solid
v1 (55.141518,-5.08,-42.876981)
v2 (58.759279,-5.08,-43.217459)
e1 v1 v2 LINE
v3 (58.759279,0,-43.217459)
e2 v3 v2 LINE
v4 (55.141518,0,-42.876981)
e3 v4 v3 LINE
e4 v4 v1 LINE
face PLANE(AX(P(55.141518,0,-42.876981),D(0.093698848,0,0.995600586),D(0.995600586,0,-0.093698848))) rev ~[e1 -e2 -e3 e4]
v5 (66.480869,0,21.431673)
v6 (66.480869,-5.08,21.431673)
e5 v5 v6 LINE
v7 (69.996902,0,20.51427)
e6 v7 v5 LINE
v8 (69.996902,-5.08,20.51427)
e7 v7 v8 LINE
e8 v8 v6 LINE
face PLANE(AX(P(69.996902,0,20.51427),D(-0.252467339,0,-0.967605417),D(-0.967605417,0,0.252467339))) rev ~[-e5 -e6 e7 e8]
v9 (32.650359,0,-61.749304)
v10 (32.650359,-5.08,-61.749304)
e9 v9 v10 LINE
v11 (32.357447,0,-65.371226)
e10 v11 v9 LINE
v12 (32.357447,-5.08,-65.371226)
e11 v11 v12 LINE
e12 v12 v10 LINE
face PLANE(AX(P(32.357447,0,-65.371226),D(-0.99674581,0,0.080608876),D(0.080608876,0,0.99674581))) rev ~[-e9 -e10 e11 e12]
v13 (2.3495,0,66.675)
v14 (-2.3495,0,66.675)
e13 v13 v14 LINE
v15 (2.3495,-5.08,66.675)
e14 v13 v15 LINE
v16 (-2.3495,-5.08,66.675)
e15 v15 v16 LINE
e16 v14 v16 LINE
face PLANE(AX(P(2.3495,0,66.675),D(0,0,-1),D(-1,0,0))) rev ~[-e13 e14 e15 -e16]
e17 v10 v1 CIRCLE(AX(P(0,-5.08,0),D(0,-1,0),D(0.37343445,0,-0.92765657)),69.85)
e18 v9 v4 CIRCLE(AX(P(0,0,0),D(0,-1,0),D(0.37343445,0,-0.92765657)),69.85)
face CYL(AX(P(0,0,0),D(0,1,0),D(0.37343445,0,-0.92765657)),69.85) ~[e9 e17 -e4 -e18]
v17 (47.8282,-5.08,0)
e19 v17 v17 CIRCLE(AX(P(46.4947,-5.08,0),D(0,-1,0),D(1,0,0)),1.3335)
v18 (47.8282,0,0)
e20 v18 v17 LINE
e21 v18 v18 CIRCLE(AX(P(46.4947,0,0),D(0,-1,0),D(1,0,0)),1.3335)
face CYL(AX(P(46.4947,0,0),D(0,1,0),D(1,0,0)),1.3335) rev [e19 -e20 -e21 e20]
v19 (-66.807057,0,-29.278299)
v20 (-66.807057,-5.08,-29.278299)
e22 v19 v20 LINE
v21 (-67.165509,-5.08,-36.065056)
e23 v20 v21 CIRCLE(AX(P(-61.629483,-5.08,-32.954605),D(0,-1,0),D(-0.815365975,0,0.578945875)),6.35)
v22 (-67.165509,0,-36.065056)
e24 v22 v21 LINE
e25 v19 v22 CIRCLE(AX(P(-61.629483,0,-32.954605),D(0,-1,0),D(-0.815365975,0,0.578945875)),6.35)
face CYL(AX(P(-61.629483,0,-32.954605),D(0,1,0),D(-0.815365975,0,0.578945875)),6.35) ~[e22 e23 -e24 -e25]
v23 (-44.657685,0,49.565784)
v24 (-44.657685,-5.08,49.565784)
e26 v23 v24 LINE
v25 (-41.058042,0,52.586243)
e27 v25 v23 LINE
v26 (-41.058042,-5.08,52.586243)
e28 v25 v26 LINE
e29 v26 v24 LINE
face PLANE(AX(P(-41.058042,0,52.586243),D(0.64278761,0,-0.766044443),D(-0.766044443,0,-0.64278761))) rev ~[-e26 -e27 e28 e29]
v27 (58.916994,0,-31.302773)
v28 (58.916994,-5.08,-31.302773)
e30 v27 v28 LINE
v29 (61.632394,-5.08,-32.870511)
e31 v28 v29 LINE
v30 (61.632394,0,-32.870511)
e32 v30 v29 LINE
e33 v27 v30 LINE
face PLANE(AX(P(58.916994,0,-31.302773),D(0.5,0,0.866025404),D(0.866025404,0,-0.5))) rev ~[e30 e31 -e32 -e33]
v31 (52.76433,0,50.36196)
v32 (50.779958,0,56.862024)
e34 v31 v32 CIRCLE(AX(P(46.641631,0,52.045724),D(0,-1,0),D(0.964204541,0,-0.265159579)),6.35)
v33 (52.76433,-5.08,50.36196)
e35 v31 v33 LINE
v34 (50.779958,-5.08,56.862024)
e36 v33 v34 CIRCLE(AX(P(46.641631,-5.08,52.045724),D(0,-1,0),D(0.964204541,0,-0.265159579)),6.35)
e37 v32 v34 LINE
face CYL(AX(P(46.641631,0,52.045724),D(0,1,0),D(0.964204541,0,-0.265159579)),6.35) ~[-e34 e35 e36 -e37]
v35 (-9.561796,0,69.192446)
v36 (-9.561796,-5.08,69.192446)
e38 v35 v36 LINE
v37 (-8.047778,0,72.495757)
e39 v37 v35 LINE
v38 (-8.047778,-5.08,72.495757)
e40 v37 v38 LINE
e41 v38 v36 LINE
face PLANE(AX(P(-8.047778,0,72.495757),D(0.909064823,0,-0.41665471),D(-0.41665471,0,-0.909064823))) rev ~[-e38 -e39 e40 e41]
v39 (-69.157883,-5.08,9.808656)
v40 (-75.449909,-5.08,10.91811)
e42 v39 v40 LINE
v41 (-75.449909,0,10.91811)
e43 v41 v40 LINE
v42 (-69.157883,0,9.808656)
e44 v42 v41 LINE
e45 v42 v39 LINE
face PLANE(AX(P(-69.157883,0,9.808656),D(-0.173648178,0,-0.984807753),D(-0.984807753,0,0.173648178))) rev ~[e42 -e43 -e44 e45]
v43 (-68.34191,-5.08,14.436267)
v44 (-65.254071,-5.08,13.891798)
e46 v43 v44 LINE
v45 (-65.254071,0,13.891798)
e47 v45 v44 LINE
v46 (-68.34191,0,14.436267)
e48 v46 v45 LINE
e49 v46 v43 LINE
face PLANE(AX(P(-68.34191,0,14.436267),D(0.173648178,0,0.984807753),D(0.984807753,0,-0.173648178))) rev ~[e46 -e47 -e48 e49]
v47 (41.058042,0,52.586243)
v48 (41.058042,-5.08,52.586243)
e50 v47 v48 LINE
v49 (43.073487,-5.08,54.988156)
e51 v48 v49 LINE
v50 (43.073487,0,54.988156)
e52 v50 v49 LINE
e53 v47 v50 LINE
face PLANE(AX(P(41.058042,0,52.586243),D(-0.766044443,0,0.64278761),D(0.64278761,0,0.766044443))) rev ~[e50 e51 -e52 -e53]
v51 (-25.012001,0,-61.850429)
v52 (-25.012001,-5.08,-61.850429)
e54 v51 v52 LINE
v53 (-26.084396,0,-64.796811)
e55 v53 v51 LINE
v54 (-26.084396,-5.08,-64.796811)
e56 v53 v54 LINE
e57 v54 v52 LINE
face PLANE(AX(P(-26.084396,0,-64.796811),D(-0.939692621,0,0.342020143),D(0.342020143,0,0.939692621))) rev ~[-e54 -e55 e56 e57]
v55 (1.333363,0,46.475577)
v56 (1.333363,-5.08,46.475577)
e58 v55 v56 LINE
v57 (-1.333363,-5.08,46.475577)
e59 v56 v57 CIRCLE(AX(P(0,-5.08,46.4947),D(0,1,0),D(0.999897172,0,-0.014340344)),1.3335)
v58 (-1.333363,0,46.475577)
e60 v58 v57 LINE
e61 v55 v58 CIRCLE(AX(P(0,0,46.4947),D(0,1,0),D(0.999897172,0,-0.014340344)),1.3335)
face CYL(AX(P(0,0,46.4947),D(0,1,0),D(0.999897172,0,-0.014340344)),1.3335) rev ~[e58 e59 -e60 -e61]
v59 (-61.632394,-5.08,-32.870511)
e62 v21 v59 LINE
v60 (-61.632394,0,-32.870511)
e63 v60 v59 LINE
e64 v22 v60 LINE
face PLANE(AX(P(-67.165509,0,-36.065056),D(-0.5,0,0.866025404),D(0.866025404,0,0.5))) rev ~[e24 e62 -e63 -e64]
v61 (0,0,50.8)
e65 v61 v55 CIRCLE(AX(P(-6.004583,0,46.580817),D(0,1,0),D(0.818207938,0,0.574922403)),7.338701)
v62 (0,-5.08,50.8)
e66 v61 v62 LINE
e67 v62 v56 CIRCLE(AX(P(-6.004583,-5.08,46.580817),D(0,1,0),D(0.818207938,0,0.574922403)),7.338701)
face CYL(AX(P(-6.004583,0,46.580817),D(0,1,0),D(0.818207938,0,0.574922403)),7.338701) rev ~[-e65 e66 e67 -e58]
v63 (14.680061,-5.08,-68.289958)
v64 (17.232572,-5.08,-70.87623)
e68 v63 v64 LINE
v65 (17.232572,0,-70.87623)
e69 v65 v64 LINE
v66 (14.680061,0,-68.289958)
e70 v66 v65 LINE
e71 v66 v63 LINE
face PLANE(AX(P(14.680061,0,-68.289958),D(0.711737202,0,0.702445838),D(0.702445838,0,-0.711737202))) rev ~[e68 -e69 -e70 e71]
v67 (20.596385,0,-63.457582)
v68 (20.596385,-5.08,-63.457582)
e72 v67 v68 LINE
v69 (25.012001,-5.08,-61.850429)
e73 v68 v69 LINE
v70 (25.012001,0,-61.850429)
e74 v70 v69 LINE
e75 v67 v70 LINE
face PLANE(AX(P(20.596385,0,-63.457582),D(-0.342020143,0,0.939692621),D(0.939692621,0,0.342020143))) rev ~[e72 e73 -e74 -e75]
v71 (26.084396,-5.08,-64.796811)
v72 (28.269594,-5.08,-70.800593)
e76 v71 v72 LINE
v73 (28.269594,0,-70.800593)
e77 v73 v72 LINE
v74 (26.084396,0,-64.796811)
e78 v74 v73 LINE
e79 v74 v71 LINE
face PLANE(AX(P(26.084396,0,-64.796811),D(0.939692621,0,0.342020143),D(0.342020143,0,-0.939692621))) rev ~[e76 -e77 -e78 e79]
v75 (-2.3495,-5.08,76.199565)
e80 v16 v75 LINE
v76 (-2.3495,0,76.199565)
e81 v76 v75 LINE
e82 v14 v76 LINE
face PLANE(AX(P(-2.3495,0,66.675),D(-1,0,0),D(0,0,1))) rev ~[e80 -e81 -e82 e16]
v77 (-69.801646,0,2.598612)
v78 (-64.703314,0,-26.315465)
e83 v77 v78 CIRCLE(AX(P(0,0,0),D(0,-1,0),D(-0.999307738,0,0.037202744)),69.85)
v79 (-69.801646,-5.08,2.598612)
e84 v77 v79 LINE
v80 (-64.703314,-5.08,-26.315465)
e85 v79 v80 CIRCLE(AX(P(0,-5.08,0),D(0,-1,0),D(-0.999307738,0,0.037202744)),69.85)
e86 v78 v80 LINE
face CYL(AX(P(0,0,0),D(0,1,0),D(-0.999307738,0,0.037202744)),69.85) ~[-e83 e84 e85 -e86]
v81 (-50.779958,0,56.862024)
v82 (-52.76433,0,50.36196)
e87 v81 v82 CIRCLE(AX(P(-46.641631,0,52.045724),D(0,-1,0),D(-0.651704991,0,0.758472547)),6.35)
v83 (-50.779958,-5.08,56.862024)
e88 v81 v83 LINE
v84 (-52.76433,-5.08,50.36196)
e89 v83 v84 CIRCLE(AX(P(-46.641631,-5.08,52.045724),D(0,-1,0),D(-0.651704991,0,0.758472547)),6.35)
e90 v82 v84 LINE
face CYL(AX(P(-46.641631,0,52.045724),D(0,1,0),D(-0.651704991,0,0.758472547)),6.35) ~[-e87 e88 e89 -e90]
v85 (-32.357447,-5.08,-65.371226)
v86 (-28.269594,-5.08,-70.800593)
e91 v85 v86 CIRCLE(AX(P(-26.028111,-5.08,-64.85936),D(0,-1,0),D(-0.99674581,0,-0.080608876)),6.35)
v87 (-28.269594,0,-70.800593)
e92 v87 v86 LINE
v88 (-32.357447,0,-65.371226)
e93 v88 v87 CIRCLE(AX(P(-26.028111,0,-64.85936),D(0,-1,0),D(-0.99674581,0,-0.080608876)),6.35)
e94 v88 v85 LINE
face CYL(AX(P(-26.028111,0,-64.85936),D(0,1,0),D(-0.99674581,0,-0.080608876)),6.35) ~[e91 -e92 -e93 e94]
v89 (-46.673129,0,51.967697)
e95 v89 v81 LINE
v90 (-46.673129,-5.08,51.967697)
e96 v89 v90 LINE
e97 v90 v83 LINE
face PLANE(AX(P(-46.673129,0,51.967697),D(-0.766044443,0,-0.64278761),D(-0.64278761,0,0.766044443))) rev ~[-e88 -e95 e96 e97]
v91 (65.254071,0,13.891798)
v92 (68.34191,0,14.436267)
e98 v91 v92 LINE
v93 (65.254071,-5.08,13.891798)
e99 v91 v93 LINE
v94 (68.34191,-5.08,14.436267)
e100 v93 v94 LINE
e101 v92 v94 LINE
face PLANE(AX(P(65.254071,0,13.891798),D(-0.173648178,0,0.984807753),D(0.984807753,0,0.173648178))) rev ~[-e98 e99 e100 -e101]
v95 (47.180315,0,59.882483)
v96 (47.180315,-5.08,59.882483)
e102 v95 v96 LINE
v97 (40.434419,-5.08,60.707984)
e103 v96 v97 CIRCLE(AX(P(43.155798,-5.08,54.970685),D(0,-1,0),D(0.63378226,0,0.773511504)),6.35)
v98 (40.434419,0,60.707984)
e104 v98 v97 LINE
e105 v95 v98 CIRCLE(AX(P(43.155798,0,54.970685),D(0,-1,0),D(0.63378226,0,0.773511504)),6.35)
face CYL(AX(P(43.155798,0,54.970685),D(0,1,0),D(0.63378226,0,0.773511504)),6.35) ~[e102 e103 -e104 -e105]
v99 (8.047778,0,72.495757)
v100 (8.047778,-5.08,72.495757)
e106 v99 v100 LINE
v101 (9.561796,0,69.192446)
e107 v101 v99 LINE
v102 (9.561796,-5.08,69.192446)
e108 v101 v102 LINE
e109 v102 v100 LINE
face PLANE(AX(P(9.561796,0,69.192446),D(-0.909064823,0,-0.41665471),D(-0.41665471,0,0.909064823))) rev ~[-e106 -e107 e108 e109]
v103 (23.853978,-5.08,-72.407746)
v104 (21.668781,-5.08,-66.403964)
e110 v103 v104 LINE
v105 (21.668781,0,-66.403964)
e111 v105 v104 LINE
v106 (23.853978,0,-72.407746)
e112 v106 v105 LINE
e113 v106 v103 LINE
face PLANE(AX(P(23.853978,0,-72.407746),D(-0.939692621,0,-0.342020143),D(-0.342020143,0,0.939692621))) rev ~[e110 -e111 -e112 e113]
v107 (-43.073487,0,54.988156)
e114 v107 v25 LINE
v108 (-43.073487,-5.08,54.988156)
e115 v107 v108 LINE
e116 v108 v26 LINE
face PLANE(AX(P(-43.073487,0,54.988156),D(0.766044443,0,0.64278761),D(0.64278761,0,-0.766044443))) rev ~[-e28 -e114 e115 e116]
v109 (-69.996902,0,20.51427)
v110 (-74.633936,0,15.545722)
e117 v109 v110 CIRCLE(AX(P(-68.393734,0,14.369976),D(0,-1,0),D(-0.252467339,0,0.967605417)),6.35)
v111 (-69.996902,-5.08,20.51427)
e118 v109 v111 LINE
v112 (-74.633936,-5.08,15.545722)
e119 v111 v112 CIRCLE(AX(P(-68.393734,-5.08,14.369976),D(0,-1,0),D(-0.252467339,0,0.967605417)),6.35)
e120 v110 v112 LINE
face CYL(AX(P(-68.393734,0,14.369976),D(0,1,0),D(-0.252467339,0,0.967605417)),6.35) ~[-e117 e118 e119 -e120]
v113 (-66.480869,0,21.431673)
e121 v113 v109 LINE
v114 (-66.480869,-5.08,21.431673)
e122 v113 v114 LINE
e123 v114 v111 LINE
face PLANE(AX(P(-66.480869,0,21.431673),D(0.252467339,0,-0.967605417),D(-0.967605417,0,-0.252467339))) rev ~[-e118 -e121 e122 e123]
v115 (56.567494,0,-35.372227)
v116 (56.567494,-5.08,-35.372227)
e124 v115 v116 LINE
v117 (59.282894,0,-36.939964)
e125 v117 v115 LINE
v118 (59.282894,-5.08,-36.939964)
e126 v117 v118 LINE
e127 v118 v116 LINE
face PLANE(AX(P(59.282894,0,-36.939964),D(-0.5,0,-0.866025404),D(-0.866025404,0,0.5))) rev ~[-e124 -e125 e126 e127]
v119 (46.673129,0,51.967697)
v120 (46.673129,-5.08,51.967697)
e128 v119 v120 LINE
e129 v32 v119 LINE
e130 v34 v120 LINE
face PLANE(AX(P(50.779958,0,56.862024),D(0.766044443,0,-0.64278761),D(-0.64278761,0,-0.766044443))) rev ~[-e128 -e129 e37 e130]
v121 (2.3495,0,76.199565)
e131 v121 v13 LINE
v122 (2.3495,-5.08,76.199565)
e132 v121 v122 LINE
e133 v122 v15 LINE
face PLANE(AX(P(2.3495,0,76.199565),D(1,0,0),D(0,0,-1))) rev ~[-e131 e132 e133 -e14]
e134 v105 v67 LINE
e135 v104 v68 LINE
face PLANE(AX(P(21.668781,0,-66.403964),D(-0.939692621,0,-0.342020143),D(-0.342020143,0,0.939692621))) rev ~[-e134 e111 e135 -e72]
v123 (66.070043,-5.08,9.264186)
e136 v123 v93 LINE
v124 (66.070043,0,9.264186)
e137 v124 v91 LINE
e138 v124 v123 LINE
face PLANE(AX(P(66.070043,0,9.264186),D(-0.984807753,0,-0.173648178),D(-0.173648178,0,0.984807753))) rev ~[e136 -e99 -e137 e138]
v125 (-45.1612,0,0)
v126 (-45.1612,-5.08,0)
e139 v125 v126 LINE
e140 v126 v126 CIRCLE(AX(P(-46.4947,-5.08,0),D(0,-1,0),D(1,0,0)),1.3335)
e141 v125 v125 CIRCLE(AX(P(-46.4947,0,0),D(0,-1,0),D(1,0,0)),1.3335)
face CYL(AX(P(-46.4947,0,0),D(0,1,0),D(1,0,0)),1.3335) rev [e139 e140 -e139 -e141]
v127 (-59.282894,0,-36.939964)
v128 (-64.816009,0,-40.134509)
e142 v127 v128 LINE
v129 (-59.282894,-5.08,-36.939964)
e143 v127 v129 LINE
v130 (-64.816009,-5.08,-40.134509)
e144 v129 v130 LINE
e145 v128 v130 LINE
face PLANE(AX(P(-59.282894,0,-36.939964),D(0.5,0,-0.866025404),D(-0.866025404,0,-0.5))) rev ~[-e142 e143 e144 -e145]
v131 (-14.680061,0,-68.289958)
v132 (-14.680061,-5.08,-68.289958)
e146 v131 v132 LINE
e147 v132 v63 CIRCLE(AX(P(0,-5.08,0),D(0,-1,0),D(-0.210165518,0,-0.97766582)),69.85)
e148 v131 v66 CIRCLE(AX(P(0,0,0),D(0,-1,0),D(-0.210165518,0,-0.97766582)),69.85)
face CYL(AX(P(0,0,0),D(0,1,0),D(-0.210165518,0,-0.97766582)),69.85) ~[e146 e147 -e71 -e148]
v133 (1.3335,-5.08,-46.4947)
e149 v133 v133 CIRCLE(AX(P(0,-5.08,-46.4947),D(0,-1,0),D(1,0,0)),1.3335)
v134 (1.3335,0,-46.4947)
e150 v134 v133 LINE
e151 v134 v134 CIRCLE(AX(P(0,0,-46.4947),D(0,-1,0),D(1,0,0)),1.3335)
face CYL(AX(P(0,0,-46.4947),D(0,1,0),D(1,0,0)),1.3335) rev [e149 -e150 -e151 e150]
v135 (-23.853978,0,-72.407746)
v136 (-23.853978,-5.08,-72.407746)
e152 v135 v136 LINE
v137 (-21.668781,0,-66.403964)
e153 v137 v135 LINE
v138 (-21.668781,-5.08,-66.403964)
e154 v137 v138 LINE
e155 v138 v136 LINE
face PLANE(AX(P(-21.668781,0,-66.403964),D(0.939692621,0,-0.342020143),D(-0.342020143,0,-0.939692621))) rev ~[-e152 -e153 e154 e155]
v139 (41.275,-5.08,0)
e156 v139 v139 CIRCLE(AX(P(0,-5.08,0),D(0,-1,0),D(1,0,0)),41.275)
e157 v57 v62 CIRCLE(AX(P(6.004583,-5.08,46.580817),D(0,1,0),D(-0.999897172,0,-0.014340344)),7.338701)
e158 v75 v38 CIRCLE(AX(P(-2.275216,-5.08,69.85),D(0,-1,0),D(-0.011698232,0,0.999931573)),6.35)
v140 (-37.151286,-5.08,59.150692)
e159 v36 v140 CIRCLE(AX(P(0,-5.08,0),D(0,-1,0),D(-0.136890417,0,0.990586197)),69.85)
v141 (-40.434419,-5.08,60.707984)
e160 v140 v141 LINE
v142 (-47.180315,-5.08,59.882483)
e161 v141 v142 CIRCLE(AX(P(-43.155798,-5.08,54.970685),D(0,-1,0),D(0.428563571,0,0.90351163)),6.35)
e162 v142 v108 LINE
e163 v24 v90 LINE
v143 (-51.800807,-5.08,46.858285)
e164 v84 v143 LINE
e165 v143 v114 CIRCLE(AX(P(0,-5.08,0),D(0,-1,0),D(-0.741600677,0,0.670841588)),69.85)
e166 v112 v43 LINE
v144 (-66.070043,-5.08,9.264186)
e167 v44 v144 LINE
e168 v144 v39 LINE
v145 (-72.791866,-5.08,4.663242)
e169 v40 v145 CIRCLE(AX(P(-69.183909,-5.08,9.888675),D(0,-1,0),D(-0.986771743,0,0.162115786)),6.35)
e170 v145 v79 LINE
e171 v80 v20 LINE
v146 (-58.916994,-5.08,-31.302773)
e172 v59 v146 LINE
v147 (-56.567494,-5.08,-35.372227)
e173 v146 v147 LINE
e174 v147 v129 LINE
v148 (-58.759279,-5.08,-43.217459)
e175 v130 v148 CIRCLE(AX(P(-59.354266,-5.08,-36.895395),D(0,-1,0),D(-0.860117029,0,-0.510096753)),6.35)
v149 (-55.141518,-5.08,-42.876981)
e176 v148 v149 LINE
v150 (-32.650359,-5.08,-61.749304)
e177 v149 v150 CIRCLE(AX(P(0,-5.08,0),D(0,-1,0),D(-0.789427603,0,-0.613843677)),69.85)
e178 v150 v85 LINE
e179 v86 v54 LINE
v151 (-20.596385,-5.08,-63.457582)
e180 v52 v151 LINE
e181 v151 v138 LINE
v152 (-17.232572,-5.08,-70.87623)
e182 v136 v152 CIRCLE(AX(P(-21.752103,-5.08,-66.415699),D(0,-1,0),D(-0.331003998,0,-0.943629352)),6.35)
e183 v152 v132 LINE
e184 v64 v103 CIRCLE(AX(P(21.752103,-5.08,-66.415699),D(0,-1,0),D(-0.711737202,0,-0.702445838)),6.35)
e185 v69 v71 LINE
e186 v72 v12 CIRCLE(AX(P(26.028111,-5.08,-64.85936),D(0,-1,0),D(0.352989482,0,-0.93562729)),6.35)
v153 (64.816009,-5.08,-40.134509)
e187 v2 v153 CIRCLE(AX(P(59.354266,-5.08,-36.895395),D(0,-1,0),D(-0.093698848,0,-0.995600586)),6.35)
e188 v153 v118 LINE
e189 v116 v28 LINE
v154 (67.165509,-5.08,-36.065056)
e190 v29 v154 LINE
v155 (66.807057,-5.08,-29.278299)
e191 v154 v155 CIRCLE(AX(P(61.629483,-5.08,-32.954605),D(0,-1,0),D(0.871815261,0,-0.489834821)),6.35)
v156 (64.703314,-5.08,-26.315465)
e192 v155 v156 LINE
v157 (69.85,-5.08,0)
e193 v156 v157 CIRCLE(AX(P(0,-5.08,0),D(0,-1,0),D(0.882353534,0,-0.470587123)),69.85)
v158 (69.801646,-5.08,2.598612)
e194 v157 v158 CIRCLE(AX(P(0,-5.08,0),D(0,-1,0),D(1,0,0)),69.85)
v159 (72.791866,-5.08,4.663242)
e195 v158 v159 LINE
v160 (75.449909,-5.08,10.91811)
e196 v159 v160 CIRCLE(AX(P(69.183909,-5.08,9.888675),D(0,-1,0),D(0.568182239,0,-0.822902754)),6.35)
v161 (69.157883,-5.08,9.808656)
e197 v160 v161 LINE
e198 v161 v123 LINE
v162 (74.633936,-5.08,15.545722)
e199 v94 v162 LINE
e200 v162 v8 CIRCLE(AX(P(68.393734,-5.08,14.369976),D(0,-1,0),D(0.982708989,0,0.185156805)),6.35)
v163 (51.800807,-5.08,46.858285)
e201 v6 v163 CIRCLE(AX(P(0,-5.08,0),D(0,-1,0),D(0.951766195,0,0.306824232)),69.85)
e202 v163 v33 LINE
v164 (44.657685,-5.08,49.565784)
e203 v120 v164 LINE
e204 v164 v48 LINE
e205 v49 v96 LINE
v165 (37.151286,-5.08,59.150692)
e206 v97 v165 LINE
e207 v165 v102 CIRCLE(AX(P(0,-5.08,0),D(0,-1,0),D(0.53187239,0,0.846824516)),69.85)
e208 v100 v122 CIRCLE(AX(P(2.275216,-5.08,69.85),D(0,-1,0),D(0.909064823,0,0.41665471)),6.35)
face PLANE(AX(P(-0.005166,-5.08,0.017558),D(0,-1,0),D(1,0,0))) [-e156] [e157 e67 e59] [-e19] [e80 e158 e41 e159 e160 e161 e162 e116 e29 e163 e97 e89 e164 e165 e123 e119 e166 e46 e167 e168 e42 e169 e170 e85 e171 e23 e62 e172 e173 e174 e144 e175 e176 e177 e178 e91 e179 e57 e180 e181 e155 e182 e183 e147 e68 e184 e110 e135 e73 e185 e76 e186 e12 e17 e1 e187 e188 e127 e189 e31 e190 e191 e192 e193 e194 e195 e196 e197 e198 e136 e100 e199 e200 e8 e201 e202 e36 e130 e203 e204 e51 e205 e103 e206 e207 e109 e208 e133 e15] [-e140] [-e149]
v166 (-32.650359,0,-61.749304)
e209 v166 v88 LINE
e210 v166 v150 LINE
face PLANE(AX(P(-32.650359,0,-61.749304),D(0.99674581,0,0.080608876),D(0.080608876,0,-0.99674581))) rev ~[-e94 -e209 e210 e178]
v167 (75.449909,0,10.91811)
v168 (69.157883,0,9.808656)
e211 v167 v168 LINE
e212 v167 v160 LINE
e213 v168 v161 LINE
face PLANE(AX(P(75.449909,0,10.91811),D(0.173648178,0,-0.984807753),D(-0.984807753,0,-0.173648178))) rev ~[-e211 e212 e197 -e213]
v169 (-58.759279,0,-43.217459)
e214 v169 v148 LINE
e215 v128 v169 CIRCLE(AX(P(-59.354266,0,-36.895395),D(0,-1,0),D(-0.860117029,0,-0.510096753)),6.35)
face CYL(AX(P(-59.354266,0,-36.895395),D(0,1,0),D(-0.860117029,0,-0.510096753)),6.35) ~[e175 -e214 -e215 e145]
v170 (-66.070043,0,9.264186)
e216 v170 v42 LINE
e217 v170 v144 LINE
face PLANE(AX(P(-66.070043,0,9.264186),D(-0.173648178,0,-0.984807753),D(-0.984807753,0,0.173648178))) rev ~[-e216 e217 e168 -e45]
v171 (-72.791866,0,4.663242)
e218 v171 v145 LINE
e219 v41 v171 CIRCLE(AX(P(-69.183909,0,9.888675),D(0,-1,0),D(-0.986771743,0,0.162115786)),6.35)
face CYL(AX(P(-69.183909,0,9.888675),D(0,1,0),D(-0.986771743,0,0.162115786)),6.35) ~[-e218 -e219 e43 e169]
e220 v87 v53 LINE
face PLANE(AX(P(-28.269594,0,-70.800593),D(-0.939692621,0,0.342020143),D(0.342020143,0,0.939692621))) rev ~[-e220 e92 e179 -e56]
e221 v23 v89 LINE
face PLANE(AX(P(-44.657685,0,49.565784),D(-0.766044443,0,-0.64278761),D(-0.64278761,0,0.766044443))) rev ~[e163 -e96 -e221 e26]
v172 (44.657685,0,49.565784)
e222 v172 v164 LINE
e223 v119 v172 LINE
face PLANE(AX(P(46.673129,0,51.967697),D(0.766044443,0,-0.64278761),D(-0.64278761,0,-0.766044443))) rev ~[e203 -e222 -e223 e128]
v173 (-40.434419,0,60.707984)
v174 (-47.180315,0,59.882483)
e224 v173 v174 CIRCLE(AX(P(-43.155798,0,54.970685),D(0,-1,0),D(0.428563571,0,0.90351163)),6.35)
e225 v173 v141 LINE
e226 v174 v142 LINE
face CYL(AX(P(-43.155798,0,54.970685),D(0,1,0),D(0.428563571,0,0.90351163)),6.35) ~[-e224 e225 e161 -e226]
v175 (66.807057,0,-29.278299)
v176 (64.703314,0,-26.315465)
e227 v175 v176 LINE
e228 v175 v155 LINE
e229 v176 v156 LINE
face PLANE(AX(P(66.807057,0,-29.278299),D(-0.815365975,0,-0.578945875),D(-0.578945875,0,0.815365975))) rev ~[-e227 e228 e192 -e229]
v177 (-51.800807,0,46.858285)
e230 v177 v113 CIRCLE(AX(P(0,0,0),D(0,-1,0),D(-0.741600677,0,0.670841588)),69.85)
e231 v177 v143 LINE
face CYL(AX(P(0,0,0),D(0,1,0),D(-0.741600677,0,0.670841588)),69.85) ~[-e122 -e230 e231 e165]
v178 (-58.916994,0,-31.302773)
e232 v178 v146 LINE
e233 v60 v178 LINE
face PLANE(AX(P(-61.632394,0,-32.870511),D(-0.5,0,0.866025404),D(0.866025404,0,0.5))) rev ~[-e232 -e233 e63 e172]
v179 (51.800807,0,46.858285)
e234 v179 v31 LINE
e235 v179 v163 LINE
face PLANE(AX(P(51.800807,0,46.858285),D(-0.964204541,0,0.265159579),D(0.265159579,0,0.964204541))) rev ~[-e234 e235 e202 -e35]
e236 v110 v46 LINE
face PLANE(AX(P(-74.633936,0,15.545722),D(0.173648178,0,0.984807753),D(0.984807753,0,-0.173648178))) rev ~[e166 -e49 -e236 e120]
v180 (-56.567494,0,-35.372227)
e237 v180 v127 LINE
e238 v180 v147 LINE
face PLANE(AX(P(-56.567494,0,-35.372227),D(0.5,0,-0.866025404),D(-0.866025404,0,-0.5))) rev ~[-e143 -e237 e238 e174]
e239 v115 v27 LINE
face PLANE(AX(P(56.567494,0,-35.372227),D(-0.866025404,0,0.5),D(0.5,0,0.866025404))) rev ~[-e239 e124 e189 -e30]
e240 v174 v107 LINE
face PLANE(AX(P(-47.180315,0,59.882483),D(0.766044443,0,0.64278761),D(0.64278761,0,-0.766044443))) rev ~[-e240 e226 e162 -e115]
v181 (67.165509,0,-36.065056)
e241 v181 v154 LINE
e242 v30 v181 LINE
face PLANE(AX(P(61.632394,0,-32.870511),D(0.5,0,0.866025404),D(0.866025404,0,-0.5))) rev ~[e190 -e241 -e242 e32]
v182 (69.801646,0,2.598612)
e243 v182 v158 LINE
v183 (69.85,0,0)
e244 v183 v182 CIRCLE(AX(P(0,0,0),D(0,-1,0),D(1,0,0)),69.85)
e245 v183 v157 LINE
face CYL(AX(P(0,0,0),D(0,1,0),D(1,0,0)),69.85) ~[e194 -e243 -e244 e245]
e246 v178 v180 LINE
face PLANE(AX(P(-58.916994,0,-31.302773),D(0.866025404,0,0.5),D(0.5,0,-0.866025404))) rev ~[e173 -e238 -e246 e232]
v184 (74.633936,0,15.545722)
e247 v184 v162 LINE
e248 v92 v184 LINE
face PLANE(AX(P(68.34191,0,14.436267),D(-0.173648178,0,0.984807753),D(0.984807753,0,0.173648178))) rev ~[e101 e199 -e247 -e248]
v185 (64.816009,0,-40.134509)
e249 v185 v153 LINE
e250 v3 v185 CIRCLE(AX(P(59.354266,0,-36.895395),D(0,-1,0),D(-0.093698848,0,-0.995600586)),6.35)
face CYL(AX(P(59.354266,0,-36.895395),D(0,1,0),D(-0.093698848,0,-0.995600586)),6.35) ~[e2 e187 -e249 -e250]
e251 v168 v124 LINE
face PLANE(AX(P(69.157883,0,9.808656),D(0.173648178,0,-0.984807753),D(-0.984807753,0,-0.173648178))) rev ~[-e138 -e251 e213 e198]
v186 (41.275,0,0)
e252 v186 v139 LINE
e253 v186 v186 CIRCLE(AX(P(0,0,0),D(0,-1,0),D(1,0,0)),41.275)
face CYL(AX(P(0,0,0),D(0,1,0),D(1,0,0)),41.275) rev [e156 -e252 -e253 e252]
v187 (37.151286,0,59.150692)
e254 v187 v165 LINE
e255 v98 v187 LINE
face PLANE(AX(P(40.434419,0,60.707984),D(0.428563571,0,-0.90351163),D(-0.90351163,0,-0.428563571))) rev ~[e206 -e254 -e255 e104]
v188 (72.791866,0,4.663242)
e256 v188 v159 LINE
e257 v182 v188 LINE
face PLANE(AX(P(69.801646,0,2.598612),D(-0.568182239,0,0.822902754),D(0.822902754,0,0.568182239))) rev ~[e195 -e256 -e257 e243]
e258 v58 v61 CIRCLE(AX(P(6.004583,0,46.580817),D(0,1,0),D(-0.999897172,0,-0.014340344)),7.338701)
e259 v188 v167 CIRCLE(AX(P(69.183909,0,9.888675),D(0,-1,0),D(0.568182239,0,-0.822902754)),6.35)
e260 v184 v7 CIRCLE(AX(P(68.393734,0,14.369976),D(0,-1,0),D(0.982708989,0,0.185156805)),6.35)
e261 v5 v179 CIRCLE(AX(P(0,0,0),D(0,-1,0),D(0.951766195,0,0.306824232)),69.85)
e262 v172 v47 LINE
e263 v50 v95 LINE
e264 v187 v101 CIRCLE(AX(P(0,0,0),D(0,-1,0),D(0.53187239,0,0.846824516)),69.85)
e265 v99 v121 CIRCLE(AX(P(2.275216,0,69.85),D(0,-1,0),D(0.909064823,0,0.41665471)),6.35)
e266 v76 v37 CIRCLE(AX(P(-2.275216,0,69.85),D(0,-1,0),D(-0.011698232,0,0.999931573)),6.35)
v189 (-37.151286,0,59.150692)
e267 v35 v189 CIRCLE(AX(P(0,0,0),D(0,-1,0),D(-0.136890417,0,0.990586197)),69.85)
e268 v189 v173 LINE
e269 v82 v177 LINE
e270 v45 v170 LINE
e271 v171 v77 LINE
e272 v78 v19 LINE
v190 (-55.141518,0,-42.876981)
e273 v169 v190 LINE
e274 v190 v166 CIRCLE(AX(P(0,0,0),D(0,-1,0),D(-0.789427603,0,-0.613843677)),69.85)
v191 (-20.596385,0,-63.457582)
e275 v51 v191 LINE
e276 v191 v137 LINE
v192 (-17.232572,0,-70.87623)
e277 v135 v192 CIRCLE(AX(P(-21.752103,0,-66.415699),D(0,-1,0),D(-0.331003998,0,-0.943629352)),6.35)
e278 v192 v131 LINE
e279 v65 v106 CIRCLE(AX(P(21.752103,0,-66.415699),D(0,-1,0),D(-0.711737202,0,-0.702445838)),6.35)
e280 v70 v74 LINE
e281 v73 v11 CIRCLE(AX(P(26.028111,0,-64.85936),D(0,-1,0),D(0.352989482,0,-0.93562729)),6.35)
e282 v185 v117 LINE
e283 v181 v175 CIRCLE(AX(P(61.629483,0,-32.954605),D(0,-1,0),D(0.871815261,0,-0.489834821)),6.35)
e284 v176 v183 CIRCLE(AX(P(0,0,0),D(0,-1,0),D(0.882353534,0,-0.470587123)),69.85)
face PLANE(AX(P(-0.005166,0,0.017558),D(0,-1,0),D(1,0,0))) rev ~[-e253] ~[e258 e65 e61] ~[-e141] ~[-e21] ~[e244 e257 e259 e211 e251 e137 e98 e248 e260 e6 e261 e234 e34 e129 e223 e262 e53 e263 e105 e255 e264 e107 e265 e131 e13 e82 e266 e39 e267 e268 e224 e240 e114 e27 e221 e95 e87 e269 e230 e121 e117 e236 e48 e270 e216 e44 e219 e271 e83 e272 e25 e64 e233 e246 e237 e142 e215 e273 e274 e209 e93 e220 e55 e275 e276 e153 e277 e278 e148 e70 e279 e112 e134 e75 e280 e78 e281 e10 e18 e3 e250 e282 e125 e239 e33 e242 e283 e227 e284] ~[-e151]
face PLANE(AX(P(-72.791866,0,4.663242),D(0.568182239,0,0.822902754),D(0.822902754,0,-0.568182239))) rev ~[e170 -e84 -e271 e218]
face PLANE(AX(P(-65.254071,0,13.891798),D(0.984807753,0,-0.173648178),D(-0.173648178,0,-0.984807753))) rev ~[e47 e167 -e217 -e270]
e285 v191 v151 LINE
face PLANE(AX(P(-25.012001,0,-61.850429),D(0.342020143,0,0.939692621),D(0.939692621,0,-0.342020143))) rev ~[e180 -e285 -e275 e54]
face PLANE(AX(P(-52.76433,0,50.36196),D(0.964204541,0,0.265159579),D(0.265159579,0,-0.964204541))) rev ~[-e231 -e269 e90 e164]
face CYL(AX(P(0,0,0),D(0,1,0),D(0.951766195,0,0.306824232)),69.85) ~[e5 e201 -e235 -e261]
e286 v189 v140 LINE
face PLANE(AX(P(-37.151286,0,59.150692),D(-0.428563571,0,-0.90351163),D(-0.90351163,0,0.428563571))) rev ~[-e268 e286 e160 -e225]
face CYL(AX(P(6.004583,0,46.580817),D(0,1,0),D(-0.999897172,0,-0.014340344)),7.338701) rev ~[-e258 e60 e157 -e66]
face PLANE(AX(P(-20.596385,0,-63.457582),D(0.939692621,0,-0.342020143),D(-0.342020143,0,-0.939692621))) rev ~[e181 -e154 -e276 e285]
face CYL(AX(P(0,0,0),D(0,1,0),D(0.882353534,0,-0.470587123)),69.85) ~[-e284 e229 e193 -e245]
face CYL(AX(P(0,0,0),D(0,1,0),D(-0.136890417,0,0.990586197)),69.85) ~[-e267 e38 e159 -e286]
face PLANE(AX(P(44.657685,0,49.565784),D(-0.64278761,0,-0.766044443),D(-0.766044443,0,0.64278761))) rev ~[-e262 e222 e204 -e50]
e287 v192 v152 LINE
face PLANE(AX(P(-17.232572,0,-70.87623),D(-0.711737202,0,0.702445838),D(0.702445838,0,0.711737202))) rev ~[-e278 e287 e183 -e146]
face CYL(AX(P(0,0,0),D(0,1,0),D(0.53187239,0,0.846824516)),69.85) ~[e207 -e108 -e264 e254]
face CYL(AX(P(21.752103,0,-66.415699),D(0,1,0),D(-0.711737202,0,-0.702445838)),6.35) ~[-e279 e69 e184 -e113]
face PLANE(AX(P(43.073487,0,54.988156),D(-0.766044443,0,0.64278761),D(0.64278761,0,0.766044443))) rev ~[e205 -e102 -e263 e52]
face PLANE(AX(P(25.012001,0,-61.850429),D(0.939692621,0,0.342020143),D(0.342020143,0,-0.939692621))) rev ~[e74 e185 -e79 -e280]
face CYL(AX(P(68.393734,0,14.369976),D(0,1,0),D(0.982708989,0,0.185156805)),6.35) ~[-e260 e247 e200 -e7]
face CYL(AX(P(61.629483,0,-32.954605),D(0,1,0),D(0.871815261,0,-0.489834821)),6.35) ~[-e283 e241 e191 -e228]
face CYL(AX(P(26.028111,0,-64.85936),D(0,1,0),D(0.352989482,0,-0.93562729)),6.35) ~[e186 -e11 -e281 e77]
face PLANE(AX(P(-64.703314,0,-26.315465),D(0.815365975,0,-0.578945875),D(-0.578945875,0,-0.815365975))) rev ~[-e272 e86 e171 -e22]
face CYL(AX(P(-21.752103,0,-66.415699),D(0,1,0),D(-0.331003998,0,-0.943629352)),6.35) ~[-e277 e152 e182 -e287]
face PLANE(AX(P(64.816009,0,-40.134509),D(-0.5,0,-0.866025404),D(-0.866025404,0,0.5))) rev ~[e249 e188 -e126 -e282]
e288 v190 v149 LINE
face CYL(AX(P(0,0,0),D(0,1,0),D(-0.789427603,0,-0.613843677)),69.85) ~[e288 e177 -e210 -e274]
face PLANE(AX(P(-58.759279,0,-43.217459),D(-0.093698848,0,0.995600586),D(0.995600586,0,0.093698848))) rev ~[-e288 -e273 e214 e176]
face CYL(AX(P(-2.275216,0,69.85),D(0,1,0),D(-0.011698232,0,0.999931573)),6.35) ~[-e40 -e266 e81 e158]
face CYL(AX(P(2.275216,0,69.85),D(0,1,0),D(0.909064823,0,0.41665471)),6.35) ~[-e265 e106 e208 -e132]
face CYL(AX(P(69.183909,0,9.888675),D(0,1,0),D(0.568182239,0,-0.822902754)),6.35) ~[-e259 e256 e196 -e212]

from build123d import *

# Parameters (mm, degrees)
F0_R     = 1.3335
F0_R_2   = 41.275
F1_DEPTH = 5.08


with BuildPart() as f1:
    # F0 (on Front) → F1 (new body)
    with BuildSketch(Plane.XZ):
        with BuildLine():
            ThreePointArc((64.703313688, -26.3154649928), (68.5512544054, -13.4070138154), (69.85, 0))
            ThreePointArc((69.85, 0), (69.8379103341, 1.2995307458), (69.8016455216, 2.5986116451))
            ThreePointArc((69.8016455216, 2.5986116451), (69.5732263207, 6.2119786965), (69.1578829213, 9.8086558631))
            Line((69.1578829213, 9.8086558631), (66.0700433255, 9.2641864302))
            Line((66.0700433255, 9.2641864302), (65.2540705387, 13.8917980616))
            Line((65.2540705387, 13.8917980616), (68.3419101345, 14.4362674945))
            ThreePointArc((68.3419101345, 14.4362674945), (67.502069222, 17.9580942962), (66.4808687426, 21.4316726185))
            ThreePointArc((66.4808687426, 21.4316726185), (60.4918744543, 34.925), (51.8008073045, 46.8582848875))
            ThreePointArc((51.8008073045, 46.8582848875), (49.3032004751, 49.4794596061), (46.6731294533, 51.9676965724))
            Line((46.6731294533, 51.9676965724), (44.657685295, 49.565783756))
            Line((44.657685295, 49.565783756), (41.0580424567, 52.5862427339))
            Line((41.0580424567, 52.5862427339), (43.0734866151, 54.9881555503))
            ThreePointArc((43.0734866151, 54.9881555503), (40.1663445193, 57.1461920687), (37.15128646, 59.1506924251))
            ThreePointArc((37.15128646, 59.1506924251), (23.8901070113, 65.6375295619), (9.5617956478, 69.1924458593))
            ThreePointArc((9.5617956478, 69.1924458593), (5.9636591831, 69.5949514631), (2.3495, 69.8104744988))
            Line((2.3495, 69.8104744988), (2.3495, 66.675))
            Line((2.3495, 66.675), (-2.3495, 66.675))
            Line((-2.3495, 66.675), (-2.3495, 69.8104744988))
            ThreePointArc((-2.3495, 69.8104744988), (-5.9636591831, 69.5949514631), (-9.5617956478, 69.1924458593))
            ThreePointArc((-9.5617956478, 69.1924458593), (-23.8901070113, 65.6375295619), (-37.15128646, 59.1506924251))
            ThreePointArc((-37.15128646, 59.1506924251), (-40.1663445193, 57.1461920687), (-43.0734866151, 54.9881555503))
            Line((-43.0734866151, 54.9881555503), (-41.0580424567, 52.5862427339))
            Line((-41.0580424567, 52.5862427339), (-44.657685295, 49.565783756))
            Line((-44.657685295, 49.565783756), (-46.6731294533, 51.9676965724))
            ThreePointArc((-46.6731294533, 51.9676965724), (-49.3032004751, 49.4794596061), (-51.8008073045, 46.8582848875))
            ThreePointArc((-51.8008073045, 46.8582848875), (-60.4918744543, 34.925), (-66.4808687426, 21.4316726185))
            ThreePointArc((-66.4808687426, 21.4316726185), (-67.502069222, 17.9580942962), (-68.3419101345, 14.4362674945))
            Line((-68.3419101345, 14.4362674945), (-65.2540705387, 13.8917980616))
            Line((-65.2540705387, 13.8917980616), (-66.0700433255, 9.2641864302))
            Line((-66.0700433255, 9.2641864302), (-69.1578829213, 9.8086558631))
            ThreePointArc((-69.1578829213, 9.8086558631), (-69.5732263207, 6.2119786965), (-69.8016455216, 2.5986116451))
            ThreePointArc((-69.8016455216, 2.5986116451), (-68.7888215479, -12.12932521), (-64.703313688, -26.3154649928))
            ThreePointArc((-64.703313688, -26.3154649928), (-63.2528255337, -29.6327953794), (-61.6323943662, -32.8705105632))
            Line((-61.6323943662, -32.8705105632), (-58.9169937973, -31.3027733138))
            Line((-58.9169937973, -31.3027733138), (-56.5674937973, -35.3722266862))
            Line((-56.5674937973, -35.3722266862), (-59.2828943662, -36.9399639356))
            ThreePointArc((-59.2828943662, -36.9399639356), (-57.2891663506, -39.9621560836), (-55.1415180402, -42.8769808665))
            ThreePointArc((-55.1415180402, -42.8769808665), (-44.8987145366, -53.5082043519), (-32.6503590616, -61.7493040702))
            ThreePointArc((-32.6503590616, -61.7493040702), (-29.4068818014, -63.3581707653), (-26.0843963063, -64.7968114134))
            Line((-26.0843963063, -64.7968114134), (-25.0120008688, -61.8504291642))
            Line((-25.0120008688, -61.8504291642), (-20.5963852437, -63.4575818176))
            Line((-20.5963852437, -63.4575818176), (-21.6687806812, -66.4039640668))
            ThreePointArc((-21.6687806812, -66.4039640668), (-18.1988687469, -67.4375539024), (-14.6800614381, -68.289957506))
            ThreePointArc((-14.6800614381, -68.289957506), (0, -69.85), (14.6800614381, -68.289957506))
            ThreePointArc((14.6800614381, -68.289957506), (18.1988687469, -67.4375539024), (21.6687806812, -66.4039640668))
            Line((21.6687806812, -66.4039640668), (20.5963852437, -63.4575818176))
            Line((20.5963852437, -63.4575818176), (25.0120008688, -61.8504291642))
            Line((25.0120008688, -61.8504291642), (26.0843963063, -64.7968114134))
            ThreePointArc((26.0843963063, -64.7968114134), (29.4068818014, -63.3581707653), (32.6503590616, -61.7493040702))
            ThreePointArc((32.6503590616, -61.7493040702), (44.8987145366, -53.5082043519), (55.1415180402, -42.8769808665))
            ThreePointArc((55.1415180402, -42.8769808665), (57.2891663506, -39.9621560836), (59.2828943662, -36.9399639356))
            Line((59.2828943662, -36.9399639356), (56.5674937973, -35.3722266862))
            Line((56.5674937973, -35.3722266862), (58.9169937973, -31.3027733138))
            Line((58.9169937973, -31.3027733138), (61.6323943662, -32.8705105632))
            ThreePointArc((61.6323943662, -32.8705105632), (63.2528255337, -29.6327953794), (64.703313688, -26.3154649928))
        make_face()
        with Locations((0, -46.4947)):
            Circle(F0_R, mode=Mode.SUBTRACT)
        with Locations((-46.4947, 0)):
            Circle(F0_R, mode=Mode.SUBTRACT)
        Circle(F0_R_2, mode=Mode.SUBTRACT)
        with Locations((46.4947, 0)):
            Circle(F0_R, mode=Mode.SUBTRACT)
        with BuildLine():
            ThreePointArc((1.3333628788, 46.4755771511), (0, 45.1612), (-1.3333628788, 46.4755771511))
            ThreePointArc((-1.3333628788, 46.4755771511), (-1.0083284803, 48.7431296807), (0, 50.8))
            ThreePointArc((0, 50.8), (1.0083284803, 48.7431296807), (1.3333628788, 46.4755771511))
        make_face(mode=Mode.SUBTRACT)
        with BuildLine():
            ThreePointArc((-43.0734866151, 54.9881555503), (-40.1663445193, 57.1461920687), (-37.15128646, 59.1506924251))
            Line((-37.15128646, 59.1506924251), (-40.4344191153, 60.7079840043))
            ThreePointArc((-40.4344191153, 60.7079840043), (-43.9270989611, 61.2736681367), (-47.1803151418, 59.8824832012))
            Line((-47.1803151418, 59.8824832012), (-43.0734866151, 54.9881555503))
        make_face()
        with BuildLine():
            ThreePointArc((-51.8008073045, 46.8582848875), (-49.3032004751, 49.4794596061), (-46.6731294533, 51.9676965724))
            Line((-46.6731294533, 51.9676965724), (-50.7799579801, 56.8620242233))
            ThreePointArc((-50.7799579801, 56.8620242233), (-52.7149227517, 53.8998084352), (-52.7643301228, 50.3619602255))
            Line((-52.7643301228, 50.3619602255), (-51.8008073045, 46.8582848875))
        make_face()
        with BuildLine():
            ThreePointArc((-9.5617956478, 69.1924458593), (-5.9636591831, 69.5949514631), (-2.3495, 69.8104744988))
            Line((-2.3495, 69.8104744988), (-2.3495, 76.1995654907))
            ThreePointArc((-2.3495, 76.1995654907), (-5.7358446168, 75.1741479273), (-8.047777853, 72.4957574116))
            Line((-8.047777853, 72.4957574116), (-9.5617956478, 69.1924458593))
        make_face()
        with BuildLine():
            ThreePointArc((2.3495, 69.8104744988), (5.9636591831, 69.5949514631), (9.5617956478, 69.1924458593))
            Line((9.5617956478, 69.1924458593), (8.047777853, 72.4957574116))
            ThreePointArc((8.047777853, 72.4957574116), (5.7358446168, 75.1741479273), (2.3495, 76.1995654907))
            Line((2.3495, 76.1995654907), (2.3495, 69.8104744988))
        make_face()
        with BuildLine():
            ThreePointArc((37.15128646, 59.1506924251), (40.1663445193, 57.1461920687), (43.0734866151, 54.9881555503))
            Line((43.0734866151, 54.9881555503), (47.1803151418, 59.8824832012))
            ThreePointArc((47.1803151418, 59.8824832012), (43.9270989611, 61.2736681367), (40.4344191153, 60.7079840043))
            Line((40.4344191153, 60.7079840043), (37.15128646, 59.1506924251))
        make_face()
        with BuildLine():
            ThreePointArc((46.6731294533, 51.9676965724), (49.3032004751, 49.4794596061), (51.8008073045, 46.8582848875))
            Line((51.8008073045, 46.8582848875), (52.7643301228, 50.3619602255))
            ThreePointArc((52.7643301228, 50.3619602255), (52.7149227517, 53.8998084352), (50.7799579801, 56.8620242233))
            Line((50.7799579801, 56.8620242233), (46.6731294533, 51.9676965724))
        make_face()
        with BuildLine():
            ThreePointArc((66.4808687426, 21.4316726185), (67.502069222, 17.9580942962), (68.3419101345, 14.4362674945))
            Line((68.3419101345, 14.4362674945), (74.633936478, 15.5457215022))
            ThreePointArc((74.633936478, 15.5457215022), (73.0360647398, 18.7025580439), (69.996902001, 20.5142701873))
            Line((69.996902001, 20.5142701873), (66.4808687426, 21.4316726185))
        make_face()
        with BuildLine():
            ThreePointArc((69.1578829213, 9.8086558631), (69.5732263207, 6.2119786965), (69.8016455216, 2.5986116451))
            Line((69.8016455216, 2.5986116451), (72.7918659179, 4.663242139))
            ThreePointArc((72.7918659179, 4.663242139), (75.02810267, 7.4051495465), (75.4499092649, 10.9181098708))
            Line((75.4499092649, 10.9181098708), (69.1578829213, 9.8086558631))
        make_face()
        with BuildLine():
            Line((66.8070565116, -29.2782986411), (64.703313688, -26.3154649928))
            ThreePointArc((64.703313688, -26.3154649928), (63.2528255337, -29.6327953794), (61.6323943662, -32.8705105632))
            Line((61.6323943662, -32.8705105632), (67.1655094723, -36.0650560592))
            ThreePointArc((67.1655094723, -36.0650560592), (67.9706441213, -32.6196868133), (66.8070565116, -29.2782986411))
        make_face()
        with BuildLine():
            Line((64.8160094723, -40.1345094316), (59.2828943662, -36.9399639356))
            ThreePointArc((59.2828943662, -36.9399639356), (57.2891663506, -39.9621560836), (55.1415180402, -42.8769808665))
            Line((55.1415180402, -42.8769808665), (58.7592786586, -43.2174587705))
            ThreePointArc((58.7592786586, -43.2174587705), (62.2347995045, -42.554461114), (64.8160094723, -40.1345094316))
        make_face()
        with BuildLine():
            Line((23.853978498, -72.4077457255), (21.6687806812, -66.4039640668))
            ThreePointArc((21.6687806812, -66.4039640668), (18.1988687469, -67.4375539024), (14.6800614381, -68.289957506))
            Line((14.6800614381, -68.289957506), (17.2325718782, -70.8762304127))
            ThreePointArc((17.2325718782, -70.8762304127), (20.3211419881, -72.6023664791), (23.853978498, -72.4077457255))
        make_face()
        with BuildLine():
            Line((32.3574468026, -65.3712261433), (32.6503590616, -61.7493040702))
            ThreePointArc((32.6503590616, -61.7493040702), (29.4068818014, -63.3581707653), (26.0843963063, -64.7968114134))
            Line((26.0843963063, -64.7968114134), (28.269594123, -70.800593072))
            ThreePointArc((28.269594123, -70.800593072), (31.1010037089, -68.6788176832), (32.3574468026, -65.3712261433))
        make_face()
        with BuildLine():
            Line((-28.269594123, -70.800593072), (-26.0843963063, -64.7968114134))
            ThreePointArc((-26.0843963063, -64.7968114134), (-29.4068818014, -63.3581707653), (-32.6503590616, -61.7493040702))
            Line((-32.6503590616, -61.7493040702), (-32.3574468026, -65.3712261433))
            ThreePointArc((-32.3574468026, -65.3712261433), (-31.1010037089, -68.6788176832), (-28.269594123, -70.800593072))
        make_face()
        with BuildLine():
            Line((-17.2325718782, -70.8762304127), (-14.6800614381, -68.289957506))
            ThreePointArc((-14.6800614381, -68.289957506), (-18.1988687469, -67.4375539024), (-21.6687806812, -66.4039640668))
            Line((-21.6687806812, -66.4039640668), (-23.853978498, -72.4077457255))
            ThreePointArc((-23.853978498, -72.4077457255), (-20.3211419881, -72.6023664791), (-17.2325718782, -70.8762304127))
        make_face()
        with BuildLine():
            Line((-58.7592786586, -43.2174587705), (-55.1415180402, -42.8769808665))
            ThreePointArc((-55.1415180402, -42.8769808665), (-57.2891663506, -39.9621560836), (-59.2828943662, -36.9399639356))
            Line((-59.2828943662, -36.9399639356), (-64.8160094723, -40.1345094316))
            ThreePointArc((-64.8160094723, -40.1345094316), (-62.2347995045, -42.554461114), (-58.7592786586, -43.2174587705))
        make_face()
        with BuildLine():
            Line((-67.1655094723, -36.0650560592), (-61.6323943662, -32.8705105632))
            ThreePointArc((-61.6323943662, -32.8705105632), (-63.2528255337, -29.6327953794), (-64.703313688, -26.3154649928))
            Line((-64.703313688, -26.3154649928), (-66.8070565116, -29.2782986411))
            ThreePointArc((-66.8070565116, -29.2782986411), (-67.9706441213, -32.6196868133), (-67.1655094723, -36.0650560592))
        make_face()
        with BuildLine():
            Line((-72.7918659179, 4.663242139), (-69.8016455216, 2.5986116451))
            ThreePointArc((-69.8016455216, 2.5986116451), (-69.5732263207, 6.2119786965), (-69.1578829213, 9.8086558631))
            Line((-69.1578829213, 9.8086558631), (-75.4499092649, 10.9181098708))
            ThreePointArc((-75.4499092649, 10.9181098708), (-75.02810267, 7.4051495465), (-72.7918659179, 4.663242139))
        make_face()
        with BuildLine():
            ThreePointArc((-68.3419101345, 14.4362674945), (-67.502069222, 17.9580942962), (-66.4808687426, 21.4316726185))
            Line((-66.4808687426, 21.4316726185), (-69.996902001, 20.5142701873))
            ThreePointArc((-69.996902001, 20.5142701873), (-73.0360647398, 18.7025580439), (-74.633936478, 15.5457215022))
            Line((-74.633936478, 15.5457215022), (-68.3419101345, 14.4362674945))
        make_face()
    extrude(amount=F1_DEPTH)


solid = f1.part
